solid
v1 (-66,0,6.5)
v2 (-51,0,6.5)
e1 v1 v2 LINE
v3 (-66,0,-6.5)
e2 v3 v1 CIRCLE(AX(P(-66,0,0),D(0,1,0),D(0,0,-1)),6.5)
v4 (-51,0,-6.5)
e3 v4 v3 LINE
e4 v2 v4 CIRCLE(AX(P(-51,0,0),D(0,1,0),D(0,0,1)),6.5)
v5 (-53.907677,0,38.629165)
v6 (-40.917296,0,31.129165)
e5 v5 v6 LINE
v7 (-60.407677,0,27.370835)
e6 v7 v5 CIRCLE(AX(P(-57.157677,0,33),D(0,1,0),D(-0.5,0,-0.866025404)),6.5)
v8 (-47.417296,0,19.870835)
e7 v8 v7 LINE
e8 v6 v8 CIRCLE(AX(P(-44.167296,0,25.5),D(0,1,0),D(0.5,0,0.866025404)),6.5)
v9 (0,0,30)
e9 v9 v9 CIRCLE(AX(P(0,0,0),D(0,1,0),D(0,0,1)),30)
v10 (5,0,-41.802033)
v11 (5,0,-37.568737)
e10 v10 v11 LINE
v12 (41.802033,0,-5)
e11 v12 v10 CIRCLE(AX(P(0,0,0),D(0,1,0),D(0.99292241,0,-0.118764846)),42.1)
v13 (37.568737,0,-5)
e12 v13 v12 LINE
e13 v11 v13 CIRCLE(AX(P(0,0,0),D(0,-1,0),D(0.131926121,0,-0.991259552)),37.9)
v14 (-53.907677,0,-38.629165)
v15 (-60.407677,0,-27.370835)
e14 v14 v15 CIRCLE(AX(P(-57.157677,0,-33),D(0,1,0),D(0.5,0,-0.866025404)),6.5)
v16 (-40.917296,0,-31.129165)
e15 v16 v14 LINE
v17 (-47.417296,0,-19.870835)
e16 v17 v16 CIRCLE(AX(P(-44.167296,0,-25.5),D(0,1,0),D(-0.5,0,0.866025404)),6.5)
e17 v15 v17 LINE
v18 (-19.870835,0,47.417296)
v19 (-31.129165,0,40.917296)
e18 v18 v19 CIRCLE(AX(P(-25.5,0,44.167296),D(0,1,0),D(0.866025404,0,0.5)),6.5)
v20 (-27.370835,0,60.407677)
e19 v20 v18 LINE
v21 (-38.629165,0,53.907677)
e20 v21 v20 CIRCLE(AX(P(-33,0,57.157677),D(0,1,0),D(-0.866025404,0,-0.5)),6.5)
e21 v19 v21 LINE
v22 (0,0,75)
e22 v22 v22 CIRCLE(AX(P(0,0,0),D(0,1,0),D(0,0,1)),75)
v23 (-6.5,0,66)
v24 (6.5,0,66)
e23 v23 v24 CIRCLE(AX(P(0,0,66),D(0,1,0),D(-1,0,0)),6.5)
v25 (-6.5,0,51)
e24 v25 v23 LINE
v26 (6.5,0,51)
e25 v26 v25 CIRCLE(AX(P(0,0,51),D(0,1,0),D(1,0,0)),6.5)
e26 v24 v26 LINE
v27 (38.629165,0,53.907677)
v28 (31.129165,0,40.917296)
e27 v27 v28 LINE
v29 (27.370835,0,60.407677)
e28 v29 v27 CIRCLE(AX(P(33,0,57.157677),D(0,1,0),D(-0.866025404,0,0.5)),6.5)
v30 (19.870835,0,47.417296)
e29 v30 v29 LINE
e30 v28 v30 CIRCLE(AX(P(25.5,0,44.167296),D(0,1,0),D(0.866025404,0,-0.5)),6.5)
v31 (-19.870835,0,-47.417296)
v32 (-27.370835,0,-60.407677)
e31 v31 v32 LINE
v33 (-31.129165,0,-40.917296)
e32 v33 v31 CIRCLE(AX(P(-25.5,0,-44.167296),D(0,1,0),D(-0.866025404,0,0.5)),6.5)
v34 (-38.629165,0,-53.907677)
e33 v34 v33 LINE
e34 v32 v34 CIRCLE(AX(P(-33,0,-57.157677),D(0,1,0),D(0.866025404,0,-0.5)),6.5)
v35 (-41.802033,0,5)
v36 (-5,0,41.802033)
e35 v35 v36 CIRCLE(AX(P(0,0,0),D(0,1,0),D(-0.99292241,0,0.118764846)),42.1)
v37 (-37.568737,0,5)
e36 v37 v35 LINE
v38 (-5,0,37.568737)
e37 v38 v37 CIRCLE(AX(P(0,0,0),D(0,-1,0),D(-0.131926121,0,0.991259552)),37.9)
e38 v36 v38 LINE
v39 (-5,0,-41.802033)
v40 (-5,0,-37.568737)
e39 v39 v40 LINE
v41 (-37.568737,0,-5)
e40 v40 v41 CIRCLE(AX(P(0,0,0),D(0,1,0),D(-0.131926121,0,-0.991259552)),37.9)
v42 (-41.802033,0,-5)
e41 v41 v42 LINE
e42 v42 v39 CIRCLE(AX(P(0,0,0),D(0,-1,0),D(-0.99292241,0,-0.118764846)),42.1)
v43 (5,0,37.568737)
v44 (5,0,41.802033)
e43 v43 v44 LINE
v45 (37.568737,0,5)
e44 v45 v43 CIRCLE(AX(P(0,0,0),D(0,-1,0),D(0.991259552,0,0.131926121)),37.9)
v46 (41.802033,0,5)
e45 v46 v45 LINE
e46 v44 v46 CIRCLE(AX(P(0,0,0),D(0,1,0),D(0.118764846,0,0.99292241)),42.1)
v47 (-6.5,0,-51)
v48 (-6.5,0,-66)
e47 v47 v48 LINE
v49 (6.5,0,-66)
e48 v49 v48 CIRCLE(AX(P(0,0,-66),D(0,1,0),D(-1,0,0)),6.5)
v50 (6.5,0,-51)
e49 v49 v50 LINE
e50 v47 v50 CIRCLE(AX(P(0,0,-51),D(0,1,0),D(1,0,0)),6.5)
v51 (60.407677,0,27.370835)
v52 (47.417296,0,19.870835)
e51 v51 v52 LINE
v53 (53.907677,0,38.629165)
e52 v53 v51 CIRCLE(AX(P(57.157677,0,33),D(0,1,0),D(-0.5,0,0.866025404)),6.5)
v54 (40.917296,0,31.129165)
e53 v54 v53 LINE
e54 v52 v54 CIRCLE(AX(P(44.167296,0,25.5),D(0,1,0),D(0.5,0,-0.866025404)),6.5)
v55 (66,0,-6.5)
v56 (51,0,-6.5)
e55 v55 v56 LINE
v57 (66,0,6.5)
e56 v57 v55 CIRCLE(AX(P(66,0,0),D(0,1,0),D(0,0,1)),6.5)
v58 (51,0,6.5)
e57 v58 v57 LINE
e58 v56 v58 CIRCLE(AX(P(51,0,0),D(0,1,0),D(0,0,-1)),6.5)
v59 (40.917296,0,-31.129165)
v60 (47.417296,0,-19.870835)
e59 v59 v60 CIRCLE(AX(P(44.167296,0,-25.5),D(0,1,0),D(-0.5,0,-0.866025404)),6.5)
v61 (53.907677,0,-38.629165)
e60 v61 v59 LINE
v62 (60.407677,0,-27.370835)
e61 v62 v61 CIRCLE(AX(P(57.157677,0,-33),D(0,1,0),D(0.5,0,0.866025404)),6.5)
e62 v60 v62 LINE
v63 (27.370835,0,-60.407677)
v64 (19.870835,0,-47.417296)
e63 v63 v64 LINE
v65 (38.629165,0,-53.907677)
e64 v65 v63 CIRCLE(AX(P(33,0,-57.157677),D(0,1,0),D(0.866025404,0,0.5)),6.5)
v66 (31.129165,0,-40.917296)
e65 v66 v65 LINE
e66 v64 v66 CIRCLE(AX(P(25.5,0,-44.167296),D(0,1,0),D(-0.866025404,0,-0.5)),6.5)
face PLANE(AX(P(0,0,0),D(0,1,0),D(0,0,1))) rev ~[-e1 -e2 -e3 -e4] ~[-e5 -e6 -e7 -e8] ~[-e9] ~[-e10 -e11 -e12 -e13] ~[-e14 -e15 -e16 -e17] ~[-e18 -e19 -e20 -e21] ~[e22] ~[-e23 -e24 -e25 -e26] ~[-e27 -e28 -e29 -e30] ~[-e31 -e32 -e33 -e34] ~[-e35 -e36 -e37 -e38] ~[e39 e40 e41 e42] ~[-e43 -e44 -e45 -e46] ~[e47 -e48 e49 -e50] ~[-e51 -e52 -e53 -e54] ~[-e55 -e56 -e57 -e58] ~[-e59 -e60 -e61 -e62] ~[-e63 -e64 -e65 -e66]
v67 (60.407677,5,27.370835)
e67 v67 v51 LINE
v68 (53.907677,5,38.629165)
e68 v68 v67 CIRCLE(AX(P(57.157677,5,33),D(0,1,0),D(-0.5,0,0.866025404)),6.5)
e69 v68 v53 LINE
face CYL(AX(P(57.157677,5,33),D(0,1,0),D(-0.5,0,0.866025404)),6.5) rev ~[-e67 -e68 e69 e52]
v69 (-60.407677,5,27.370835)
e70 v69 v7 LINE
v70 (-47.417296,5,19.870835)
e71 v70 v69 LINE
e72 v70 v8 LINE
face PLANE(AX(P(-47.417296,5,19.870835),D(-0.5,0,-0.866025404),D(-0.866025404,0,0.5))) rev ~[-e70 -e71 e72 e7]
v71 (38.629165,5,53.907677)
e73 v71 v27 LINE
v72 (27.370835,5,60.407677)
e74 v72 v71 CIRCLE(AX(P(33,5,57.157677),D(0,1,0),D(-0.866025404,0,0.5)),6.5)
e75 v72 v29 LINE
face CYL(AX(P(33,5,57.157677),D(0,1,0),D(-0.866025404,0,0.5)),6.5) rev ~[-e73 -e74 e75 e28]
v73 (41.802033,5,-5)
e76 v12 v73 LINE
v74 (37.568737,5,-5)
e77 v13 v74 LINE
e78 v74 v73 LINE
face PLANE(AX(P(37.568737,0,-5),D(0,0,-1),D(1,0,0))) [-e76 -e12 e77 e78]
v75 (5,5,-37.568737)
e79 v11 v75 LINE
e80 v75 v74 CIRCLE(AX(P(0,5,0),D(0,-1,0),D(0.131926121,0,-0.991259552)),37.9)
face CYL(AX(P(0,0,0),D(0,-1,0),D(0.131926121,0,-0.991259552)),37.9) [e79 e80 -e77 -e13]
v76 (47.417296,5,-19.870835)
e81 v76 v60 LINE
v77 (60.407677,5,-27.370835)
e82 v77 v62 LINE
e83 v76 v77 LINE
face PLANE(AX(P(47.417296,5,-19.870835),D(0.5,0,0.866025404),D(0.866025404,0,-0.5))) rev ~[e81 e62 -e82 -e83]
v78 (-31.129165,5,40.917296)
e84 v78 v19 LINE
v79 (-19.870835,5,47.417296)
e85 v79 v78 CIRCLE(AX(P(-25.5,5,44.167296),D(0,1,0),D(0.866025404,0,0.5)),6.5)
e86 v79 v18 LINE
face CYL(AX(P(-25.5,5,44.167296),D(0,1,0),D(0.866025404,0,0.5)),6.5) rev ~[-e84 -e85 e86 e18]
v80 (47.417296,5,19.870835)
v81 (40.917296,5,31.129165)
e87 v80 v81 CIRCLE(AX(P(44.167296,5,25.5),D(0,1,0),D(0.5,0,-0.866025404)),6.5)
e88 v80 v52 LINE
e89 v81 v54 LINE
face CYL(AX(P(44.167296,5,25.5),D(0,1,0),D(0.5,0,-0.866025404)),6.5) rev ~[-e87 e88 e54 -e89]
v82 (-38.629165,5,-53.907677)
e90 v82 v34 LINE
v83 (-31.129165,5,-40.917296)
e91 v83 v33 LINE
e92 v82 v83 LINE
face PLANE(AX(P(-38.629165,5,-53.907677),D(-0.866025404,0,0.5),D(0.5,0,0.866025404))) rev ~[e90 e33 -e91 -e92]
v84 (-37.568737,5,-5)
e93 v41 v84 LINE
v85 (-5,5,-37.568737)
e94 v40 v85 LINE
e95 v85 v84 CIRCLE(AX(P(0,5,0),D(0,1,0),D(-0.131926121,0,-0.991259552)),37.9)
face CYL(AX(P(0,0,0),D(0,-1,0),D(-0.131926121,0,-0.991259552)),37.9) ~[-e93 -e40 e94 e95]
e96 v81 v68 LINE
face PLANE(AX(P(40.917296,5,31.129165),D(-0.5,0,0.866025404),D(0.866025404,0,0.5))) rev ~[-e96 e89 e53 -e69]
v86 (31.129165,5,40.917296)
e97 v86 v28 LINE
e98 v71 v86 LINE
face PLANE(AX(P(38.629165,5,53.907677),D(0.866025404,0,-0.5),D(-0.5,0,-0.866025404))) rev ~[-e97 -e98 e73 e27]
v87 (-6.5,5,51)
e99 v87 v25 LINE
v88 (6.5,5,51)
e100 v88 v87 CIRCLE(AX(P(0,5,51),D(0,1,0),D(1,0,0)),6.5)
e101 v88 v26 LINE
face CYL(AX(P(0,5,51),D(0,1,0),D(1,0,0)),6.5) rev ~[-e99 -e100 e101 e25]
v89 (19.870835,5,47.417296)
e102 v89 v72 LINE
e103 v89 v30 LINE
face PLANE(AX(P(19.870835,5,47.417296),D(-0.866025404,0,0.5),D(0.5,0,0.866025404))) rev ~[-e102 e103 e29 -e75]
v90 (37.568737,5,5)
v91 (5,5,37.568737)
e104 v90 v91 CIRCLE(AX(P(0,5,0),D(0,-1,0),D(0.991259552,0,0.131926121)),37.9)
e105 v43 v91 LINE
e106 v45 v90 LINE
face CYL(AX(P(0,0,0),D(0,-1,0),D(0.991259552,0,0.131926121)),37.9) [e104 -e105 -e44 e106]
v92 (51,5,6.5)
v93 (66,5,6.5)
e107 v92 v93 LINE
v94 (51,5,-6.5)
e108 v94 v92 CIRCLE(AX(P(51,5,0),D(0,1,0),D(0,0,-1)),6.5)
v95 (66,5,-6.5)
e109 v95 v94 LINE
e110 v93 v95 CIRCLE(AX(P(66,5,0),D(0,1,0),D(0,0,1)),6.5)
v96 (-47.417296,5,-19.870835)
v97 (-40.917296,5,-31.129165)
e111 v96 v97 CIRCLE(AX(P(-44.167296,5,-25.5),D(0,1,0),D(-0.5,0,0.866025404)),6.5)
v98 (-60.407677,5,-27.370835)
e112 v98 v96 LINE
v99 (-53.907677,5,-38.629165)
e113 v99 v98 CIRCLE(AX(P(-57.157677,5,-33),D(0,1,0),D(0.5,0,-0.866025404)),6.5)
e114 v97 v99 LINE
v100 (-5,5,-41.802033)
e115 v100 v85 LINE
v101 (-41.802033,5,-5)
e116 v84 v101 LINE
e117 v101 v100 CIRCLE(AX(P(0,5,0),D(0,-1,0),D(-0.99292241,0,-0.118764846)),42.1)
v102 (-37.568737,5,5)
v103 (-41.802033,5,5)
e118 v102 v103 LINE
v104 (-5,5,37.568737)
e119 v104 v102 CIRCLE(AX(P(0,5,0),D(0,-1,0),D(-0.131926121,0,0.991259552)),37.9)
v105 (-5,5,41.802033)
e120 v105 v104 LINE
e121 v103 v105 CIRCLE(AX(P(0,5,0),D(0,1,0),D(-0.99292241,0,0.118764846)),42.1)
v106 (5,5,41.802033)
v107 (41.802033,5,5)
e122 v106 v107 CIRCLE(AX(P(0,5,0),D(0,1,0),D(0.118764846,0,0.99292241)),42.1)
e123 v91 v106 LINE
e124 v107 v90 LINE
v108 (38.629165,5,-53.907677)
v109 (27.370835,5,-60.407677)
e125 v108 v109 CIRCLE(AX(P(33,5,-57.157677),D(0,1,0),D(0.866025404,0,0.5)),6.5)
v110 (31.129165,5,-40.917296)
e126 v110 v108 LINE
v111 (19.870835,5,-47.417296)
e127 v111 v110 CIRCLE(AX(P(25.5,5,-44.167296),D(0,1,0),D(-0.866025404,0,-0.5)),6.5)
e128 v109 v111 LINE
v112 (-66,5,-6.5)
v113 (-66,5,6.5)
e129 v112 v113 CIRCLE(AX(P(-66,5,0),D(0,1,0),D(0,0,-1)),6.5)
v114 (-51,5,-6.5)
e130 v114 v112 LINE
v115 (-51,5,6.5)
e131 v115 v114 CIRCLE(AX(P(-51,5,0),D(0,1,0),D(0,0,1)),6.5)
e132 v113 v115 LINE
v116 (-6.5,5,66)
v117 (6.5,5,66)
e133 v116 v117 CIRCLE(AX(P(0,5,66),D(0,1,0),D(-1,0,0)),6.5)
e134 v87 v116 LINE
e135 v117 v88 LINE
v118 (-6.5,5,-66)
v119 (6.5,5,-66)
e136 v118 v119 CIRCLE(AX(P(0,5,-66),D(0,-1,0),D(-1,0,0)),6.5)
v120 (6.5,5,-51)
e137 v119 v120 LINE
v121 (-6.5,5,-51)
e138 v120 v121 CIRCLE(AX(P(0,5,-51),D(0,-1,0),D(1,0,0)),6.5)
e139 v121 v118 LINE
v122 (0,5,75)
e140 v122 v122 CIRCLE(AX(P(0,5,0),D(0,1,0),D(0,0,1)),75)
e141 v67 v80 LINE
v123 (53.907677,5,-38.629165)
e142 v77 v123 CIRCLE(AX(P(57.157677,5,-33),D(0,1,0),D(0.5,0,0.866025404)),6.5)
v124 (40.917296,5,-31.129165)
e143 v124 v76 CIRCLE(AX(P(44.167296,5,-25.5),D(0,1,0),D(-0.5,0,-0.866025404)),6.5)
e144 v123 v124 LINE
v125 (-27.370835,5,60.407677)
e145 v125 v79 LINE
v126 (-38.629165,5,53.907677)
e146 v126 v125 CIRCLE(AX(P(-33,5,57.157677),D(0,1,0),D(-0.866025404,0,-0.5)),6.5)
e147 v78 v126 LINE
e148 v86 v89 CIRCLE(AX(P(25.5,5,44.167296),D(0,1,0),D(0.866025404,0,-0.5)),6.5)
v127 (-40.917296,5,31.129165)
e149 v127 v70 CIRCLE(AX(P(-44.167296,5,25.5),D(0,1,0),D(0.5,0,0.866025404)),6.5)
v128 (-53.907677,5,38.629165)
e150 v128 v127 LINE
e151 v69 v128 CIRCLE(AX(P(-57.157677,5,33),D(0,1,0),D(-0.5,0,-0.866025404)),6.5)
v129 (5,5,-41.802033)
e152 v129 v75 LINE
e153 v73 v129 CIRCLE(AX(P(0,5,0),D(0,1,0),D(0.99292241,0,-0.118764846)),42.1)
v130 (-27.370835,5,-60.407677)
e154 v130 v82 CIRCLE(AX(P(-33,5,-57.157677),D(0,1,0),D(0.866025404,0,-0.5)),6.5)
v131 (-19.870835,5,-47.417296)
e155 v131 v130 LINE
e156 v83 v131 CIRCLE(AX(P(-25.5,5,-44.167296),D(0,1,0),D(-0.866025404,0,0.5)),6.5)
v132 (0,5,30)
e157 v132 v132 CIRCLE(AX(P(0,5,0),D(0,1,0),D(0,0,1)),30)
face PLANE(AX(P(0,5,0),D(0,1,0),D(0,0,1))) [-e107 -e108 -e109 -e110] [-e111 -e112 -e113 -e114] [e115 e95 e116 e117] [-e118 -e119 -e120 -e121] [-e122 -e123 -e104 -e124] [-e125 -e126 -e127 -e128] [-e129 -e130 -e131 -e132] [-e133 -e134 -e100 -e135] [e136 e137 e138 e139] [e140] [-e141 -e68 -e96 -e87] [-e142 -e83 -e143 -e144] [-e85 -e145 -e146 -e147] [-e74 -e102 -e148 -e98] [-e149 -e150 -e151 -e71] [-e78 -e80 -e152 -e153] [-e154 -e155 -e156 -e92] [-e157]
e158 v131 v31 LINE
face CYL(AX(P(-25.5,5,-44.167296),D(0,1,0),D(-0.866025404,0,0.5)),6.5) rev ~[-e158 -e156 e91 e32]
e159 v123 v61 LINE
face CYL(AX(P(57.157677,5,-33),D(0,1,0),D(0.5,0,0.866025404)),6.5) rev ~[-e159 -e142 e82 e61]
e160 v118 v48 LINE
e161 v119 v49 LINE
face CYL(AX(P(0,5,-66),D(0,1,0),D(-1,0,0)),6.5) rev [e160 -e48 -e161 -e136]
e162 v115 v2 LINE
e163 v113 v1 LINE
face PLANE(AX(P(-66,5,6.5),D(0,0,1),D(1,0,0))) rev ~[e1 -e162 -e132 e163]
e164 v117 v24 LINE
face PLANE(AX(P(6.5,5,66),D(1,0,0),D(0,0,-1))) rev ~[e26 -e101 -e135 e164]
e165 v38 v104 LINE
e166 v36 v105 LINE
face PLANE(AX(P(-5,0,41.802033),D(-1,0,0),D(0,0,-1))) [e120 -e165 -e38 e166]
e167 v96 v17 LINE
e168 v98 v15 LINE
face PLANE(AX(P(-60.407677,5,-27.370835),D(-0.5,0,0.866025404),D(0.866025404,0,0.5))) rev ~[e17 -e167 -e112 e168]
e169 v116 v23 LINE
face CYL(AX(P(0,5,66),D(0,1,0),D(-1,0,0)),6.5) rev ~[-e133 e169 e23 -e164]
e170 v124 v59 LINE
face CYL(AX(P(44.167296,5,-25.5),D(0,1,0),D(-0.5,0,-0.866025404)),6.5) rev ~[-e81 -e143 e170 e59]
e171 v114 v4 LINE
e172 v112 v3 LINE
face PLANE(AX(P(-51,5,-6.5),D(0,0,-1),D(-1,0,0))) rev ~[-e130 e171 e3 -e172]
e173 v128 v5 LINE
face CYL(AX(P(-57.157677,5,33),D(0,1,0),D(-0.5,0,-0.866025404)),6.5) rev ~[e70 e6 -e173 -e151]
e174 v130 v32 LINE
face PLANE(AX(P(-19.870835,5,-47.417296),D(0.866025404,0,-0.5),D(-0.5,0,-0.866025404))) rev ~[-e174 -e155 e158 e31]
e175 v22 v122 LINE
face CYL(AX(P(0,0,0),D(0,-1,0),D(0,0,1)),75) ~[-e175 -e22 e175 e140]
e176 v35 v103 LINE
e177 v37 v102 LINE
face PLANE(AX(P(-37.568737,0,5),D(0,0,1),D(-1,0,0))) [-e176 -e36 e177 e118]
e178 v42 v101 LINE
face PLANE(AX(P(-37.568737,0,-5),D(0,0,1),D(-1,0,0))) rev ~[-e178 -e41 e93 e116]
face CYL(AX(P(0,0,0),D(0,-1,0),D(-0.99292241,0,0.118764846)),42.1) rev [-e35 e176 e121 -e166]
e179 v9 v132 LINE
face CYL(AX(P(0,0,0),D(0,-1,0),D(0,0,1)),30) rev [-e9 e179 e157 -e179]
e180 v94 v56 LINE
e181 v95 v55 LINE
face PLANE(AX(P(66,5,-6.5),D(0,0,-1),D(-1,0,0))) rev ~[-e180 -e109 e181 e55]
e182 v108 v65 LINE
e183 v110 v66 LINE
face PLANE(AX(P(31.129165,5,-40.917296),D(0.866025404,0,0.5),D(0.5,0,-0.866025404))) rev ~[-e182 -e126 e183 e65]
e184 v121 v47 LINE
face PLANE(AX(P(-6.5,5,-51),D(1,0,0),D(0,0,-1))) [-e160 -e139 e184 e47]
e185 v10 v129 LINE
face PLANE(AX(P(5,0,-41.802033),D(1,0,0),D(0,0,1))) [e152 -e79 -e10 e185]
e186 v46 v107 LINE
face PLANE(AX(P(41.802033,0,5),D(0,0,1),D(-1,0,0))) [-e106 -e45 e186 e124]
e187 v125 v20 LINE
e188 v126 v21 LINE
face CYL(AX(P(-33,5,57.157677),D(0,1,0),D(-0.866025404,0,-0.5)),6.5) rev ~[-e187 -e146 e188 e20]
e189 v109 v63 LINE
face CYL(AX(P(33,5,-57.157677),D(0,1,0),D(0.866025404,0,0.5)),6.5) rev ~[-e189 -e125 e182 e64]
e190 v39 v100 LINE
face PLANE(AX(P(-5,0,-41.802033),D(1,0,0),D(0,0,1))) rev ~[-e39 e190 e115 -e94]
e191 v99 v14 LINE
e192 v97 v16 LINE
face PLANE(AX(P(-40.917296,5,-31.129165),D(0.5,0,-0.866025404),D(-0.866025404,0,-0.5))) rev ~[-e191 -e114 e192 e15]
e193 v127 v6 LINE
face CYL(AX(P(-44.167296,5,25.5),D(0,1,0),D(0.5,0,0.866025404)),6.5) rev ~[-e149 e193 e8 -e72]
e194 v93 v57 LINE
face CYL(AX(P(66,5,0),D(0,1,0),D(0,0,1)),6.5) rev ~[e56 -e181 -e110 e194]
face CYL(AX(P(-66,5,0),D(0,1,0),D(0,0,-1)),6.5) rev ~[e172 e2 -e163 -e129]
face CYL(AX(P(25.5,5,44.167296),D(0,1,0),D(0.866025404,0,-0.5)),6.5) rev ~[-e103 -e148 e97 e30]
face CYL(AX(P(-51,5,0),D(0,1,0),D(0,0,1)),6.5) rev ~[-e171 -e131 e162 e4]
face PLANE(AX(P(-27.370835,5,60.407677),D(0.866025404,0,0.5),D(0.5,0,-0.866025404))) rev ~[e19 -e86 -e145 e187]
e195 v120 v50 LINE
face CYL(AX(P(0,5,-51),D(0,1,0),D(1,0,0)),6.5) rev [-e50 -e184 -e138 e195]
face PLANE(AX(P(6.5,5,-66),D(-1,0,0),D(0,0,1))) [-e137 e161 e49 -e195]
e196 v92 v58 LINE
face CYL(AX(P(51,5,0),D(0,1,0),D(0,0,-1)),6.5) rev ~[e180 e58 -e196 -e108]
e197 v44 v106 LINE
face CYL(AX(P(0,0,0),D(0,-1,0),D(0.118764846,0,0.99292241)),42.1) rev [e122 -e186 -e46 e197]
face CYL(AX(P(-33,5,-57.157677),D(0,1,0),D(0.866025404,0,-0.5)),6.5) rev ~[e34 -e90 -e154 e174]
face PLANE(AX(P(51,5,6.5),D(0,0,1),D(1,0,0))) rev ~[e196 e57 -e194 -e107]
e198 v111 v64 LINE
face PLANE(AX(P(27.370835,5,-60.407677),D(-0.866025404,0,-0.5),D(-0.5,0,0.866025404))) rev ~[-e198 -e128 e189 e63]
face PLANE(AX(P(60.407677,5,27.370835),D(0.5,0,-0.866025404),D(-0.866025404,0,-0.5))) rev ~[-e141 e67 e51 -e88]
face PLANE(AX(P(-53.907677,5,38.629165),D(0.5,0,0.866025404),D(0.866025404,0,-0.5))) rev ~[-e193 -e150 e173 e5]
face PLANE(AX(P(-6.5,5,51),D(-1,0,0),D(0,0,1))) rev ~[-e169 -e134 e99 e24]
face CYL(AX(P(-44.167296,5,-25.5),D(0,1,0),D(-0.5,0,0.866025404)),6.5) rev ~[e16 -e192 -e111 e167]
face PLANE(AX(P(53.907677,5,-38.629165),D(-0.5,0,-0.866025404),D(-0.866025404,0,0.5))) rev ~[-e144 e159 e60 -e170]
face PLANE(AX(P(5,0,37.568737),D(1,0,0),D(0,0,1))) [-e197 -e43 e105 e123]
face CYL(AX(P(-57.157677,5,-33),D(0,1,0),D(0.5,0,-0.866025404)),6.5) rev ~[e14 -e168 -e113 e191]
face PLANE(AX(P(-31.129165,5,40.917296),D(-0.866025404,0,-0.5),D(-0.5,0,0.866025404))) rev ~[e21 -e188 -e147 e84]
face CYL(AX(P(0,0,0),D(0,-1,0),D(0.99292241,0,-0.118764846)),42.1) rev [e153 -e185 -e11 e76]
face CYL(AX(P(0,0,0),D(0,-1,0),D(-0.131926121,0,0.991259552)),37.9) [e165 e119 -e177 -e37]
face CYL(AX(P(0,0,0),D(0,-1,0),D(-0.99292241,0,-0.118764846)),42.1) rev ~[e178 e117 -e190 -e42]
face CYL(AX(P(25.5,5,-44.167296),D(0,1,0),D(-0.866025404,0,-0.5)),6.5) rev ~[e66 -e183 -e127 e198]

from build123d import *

# Parameters (mm, degrees)
SKETCH1_R           = 75
SKETCH1_R_2         = 30
BOSS_EXTRUDE1_DEPTH = 5
CUT_EXTRUDE1_DEPTH  = 107.183802908


with BuildPart() as part:
    # Sketch1 → Boss-Extrude1 (new body)
    with BuildSketch(Plane(origin=(0, 0, 0), x_dir=(1, 0, 0), z_dir=(0, 1, 0))):
        with Locations(Location((0, 0, 0), (0, 0, 270))):
            Circle(SKETCH1_R)
        with Locations(Location((0, 0, 0), (0, 0, 270))):
            Circle(SKETCH1_R_2, mode=Mode.SUBTRACT)
        with BuildLine():
            Line((-5, 41.802033443), (-5, 37.568737003))
            ThreePointArc((-5, 37.568737003), (-26.799347007, 26.799347007), (-37.568737003, 5))
            Line((-37.568737003, 5), (-41.802033443, 5))
            ThreePointArc((-41.802033443, 5), (-29.769195488, 29.769195488), (-5, 41.802033443))
        make_face(mode=Mode.SUBTRACT)
        with BuildLine():
            Line((5, 41.802033443), (5, 37.568737003))
            ThreePointArc((5, 37.568737003), (26.799347007, 26.799347007), (37.568737003, 5))
            Line((37.568737003, 5), (41.802033443, 5))
            ThreePointArc((41.802033443, 5), (29.769195488, 29.769195488), (5, 41.802033443))
        make_face(mode=Mode.SUBTRACT)
        with BuildLine():
            Line((41.802033443, -5), (37.568737003, -5))
            ThreePointArc((37.568737003, -5), (26.799347007, -26.799347007), (5, -37.568737003))
            Line((5, -37.568737003), (5, -41.802033443))
            ThreePointArc((5, -41.802033443), (29.769195488, -29.769195488), (41.802033443, -5))
        make_face(mode=Mode.SUBTRACT)
        with BuildLine():
            Line((-5, -41.802033443), (-5, -37.568737003))
            ThreePointArc((-5, -37.568737003), (-26.799347007, -26.799347007), (-37.568737003, -5))
            Line((-37.568737003, -5), (-41.802033443, -5))
            ThreePointArc((-41.802033443, -5), (-29.769195488, -29.769195488), (-5, -41.802033443))
        make_face(mode=Mode.SUBTRACT)
    extrude(amount=BOSS_EXTRUDE1_DEPTH)

    # Sketch4 → Cut-Extrude1 (cut, through all)
    with BuildSketch(Plane(origin=(0, 5, 0), x_dir=(1, 0, 0), z_dir=(0, 1, 0))):
        with BuildLine():
            Line((-6.5, 51), (-6.5, 66))
            ThreePointArc((-6.5, 66), (0, 72.5), (6.5, 66))
            Line((6.5, 66), (6.5, 51))
            ThreePointArc((6.5, 51), (0, 44.5), (-6.5, 51))
        make_face()
        with BuildLine():
            Line((31.129165125, 40.917295593), (38.629165125, 53.90767665))
            ThreePointArc((38.629165125, 53.90767665), (36.25, 62.786841774), (27.370834875, 60.40767665))
            Line((27.370834875, 60.40767665), (19.870834875, 47.417295593))
            ThreePointArc((19.870834875, 47.417295593), (22.25, 38.538130468), (31.129165125, 40.917295593))
        make_face()
        with BuildLine():
            Line((47.417295593, 19.870834875), (60.40767665, 27.370834875))
            ThreePointArc((60.40767665, 27.370834875), (62.786841774, 36.25), (53.90767665, 38.629165125))
            Line((53.90767665, 38.629165125), (40.917295593, 31.129165125))
            ThreePointArc((40.917295593, 31.129165125), (38.538130468, 22.25), (47.417295593, 19.870834875))
        make_face()
        with BuildLine():
            Line((51, -6.5), (66, -6.5))
            ThreePointArc((66, -6.5), (72.5, 0), (66, 6.5))
            Line((66, 6.5), (51, 6.5))
            ThreePointArc((51, 6.5), (44.5, 0), (51, -6.5))
        make_face()
        with BuildLine():
            Line((40.917295593, -31.129165125), (53.90767665, -38.629165125))
            ThreePointArc((53.90767665, -38.629165125), (62.786841774, -36.25), (60.40767665, -27.370834875))
            Line((60.40767665, -27.370834875), (47.417295593, -19.870834875))
            ThreePointArc((47.417295593, -19.870834875), (38.538130468, -22.25), (40.917295593, -31.129165125))
        make_face()
        with BuildLine():
            Line((19.870834875, -47.417295593), (27.370834875, -60.40767665))
            ThreePointArc((27.370834875, -60.40767665), (36.25, -62.786841774), (38.629165125, -53.90767665))
            Line((38.629165125, -53.90767665), (31.129165125, -40.917295593))
            ThreePointArc((31.129165125, -40.917295593), (22.25, -38.538130468), (19.870834875, -47.417295593))
        make_face()
        with BuildLine():
            Line((-6.5, -51), (-6.5, -66))
            ThreePointArc((-6.5, -66), (0, -72.5), (6.5, -66))
            Line((6.5, -66), (6.5, -51))
            ThreePointArc((6.5, -51), (0, -44.5), (-6.5, -51))
        make_face()
        with BuildLine():
            Line((-31.129165125, -40.917295593), (-38.629165125, -53.90767665))
            ThreePointArc((-38.629165125, -53.90767665), (-36.25, -62.786841774), (-27.370834875, -60.40767665))
            Line((-27.370834875, -60.40767665), (-19.870834875, -47.417295593))
            ThreePointArc((-19.870834875, -47.417295593), (-22.25, -38.538130468), (-31.129165125, -40.917295593))
        make_face()
        with BuildLine():
            Line((-47.417295593, -19.870834875), (-60.40767665, -27.370834875))
            ThreePointArc((-60.40767665, -27.370834875), (-62.786841774, -36.25), (-53.90767665, -38.629165125))
            Line((-53.90767665, -38.629165125), (-40.917295593, -31.129165125))
            ThreePointArc((-40.917295593, -31.129165125), (-38.538130468, -22.25), (-47.417295593, -19.870834875))
        make_face()
        with BuildLine():
            Line((-51, 6.5), (-66, 6.5))
            ThreePointArc((-66, 6.5), (-72.5, 0), (-66, -6.5))
            Line((-66, -6.5), (-51, -6.5))
            ThreePointArc((-51, -6.5), (-44.5, 0), (-51, 6.5))
        make_face()
        with BuildLine():
            Line((-40.917295593, 31.129165125), (-53.90767665, 38.629165125))
            ThreePointArc((-53.90767665, 38.629165125), (-62.786841774, 36.25), (-60.40767665, 27.370834875))
            Line((-60.40767665, 27.370834875), (-47.417295593, 19.870834875))
            ThreePointArc((-47.417295593, 19.870834875), (-38.538130468, 22.25), (-40.917295593, 31.129165125))
        make_face()
        with BuildLine():
            Line((-19.870834875, 47.417295593), (-27.370834875, 60.40767665))
            ThreePointArc((-27.370834875, 60.40767665), (-36.25, 62.786841774), (-38.629165125, 53.90767665))
            Line((-38.629165125, 53.90767665), (-31.129165125, 40.917295593))
            ThreePointArc((-31.129165125, 40.917295593), (-22.25, 38.538130468), (-19.870834875, 47.417295593))
        make_face()
    extrude(amount=-CUT_EXTRUDE1_DEPTH, mode=Mode.SUBTRACT)


solid = part.part
